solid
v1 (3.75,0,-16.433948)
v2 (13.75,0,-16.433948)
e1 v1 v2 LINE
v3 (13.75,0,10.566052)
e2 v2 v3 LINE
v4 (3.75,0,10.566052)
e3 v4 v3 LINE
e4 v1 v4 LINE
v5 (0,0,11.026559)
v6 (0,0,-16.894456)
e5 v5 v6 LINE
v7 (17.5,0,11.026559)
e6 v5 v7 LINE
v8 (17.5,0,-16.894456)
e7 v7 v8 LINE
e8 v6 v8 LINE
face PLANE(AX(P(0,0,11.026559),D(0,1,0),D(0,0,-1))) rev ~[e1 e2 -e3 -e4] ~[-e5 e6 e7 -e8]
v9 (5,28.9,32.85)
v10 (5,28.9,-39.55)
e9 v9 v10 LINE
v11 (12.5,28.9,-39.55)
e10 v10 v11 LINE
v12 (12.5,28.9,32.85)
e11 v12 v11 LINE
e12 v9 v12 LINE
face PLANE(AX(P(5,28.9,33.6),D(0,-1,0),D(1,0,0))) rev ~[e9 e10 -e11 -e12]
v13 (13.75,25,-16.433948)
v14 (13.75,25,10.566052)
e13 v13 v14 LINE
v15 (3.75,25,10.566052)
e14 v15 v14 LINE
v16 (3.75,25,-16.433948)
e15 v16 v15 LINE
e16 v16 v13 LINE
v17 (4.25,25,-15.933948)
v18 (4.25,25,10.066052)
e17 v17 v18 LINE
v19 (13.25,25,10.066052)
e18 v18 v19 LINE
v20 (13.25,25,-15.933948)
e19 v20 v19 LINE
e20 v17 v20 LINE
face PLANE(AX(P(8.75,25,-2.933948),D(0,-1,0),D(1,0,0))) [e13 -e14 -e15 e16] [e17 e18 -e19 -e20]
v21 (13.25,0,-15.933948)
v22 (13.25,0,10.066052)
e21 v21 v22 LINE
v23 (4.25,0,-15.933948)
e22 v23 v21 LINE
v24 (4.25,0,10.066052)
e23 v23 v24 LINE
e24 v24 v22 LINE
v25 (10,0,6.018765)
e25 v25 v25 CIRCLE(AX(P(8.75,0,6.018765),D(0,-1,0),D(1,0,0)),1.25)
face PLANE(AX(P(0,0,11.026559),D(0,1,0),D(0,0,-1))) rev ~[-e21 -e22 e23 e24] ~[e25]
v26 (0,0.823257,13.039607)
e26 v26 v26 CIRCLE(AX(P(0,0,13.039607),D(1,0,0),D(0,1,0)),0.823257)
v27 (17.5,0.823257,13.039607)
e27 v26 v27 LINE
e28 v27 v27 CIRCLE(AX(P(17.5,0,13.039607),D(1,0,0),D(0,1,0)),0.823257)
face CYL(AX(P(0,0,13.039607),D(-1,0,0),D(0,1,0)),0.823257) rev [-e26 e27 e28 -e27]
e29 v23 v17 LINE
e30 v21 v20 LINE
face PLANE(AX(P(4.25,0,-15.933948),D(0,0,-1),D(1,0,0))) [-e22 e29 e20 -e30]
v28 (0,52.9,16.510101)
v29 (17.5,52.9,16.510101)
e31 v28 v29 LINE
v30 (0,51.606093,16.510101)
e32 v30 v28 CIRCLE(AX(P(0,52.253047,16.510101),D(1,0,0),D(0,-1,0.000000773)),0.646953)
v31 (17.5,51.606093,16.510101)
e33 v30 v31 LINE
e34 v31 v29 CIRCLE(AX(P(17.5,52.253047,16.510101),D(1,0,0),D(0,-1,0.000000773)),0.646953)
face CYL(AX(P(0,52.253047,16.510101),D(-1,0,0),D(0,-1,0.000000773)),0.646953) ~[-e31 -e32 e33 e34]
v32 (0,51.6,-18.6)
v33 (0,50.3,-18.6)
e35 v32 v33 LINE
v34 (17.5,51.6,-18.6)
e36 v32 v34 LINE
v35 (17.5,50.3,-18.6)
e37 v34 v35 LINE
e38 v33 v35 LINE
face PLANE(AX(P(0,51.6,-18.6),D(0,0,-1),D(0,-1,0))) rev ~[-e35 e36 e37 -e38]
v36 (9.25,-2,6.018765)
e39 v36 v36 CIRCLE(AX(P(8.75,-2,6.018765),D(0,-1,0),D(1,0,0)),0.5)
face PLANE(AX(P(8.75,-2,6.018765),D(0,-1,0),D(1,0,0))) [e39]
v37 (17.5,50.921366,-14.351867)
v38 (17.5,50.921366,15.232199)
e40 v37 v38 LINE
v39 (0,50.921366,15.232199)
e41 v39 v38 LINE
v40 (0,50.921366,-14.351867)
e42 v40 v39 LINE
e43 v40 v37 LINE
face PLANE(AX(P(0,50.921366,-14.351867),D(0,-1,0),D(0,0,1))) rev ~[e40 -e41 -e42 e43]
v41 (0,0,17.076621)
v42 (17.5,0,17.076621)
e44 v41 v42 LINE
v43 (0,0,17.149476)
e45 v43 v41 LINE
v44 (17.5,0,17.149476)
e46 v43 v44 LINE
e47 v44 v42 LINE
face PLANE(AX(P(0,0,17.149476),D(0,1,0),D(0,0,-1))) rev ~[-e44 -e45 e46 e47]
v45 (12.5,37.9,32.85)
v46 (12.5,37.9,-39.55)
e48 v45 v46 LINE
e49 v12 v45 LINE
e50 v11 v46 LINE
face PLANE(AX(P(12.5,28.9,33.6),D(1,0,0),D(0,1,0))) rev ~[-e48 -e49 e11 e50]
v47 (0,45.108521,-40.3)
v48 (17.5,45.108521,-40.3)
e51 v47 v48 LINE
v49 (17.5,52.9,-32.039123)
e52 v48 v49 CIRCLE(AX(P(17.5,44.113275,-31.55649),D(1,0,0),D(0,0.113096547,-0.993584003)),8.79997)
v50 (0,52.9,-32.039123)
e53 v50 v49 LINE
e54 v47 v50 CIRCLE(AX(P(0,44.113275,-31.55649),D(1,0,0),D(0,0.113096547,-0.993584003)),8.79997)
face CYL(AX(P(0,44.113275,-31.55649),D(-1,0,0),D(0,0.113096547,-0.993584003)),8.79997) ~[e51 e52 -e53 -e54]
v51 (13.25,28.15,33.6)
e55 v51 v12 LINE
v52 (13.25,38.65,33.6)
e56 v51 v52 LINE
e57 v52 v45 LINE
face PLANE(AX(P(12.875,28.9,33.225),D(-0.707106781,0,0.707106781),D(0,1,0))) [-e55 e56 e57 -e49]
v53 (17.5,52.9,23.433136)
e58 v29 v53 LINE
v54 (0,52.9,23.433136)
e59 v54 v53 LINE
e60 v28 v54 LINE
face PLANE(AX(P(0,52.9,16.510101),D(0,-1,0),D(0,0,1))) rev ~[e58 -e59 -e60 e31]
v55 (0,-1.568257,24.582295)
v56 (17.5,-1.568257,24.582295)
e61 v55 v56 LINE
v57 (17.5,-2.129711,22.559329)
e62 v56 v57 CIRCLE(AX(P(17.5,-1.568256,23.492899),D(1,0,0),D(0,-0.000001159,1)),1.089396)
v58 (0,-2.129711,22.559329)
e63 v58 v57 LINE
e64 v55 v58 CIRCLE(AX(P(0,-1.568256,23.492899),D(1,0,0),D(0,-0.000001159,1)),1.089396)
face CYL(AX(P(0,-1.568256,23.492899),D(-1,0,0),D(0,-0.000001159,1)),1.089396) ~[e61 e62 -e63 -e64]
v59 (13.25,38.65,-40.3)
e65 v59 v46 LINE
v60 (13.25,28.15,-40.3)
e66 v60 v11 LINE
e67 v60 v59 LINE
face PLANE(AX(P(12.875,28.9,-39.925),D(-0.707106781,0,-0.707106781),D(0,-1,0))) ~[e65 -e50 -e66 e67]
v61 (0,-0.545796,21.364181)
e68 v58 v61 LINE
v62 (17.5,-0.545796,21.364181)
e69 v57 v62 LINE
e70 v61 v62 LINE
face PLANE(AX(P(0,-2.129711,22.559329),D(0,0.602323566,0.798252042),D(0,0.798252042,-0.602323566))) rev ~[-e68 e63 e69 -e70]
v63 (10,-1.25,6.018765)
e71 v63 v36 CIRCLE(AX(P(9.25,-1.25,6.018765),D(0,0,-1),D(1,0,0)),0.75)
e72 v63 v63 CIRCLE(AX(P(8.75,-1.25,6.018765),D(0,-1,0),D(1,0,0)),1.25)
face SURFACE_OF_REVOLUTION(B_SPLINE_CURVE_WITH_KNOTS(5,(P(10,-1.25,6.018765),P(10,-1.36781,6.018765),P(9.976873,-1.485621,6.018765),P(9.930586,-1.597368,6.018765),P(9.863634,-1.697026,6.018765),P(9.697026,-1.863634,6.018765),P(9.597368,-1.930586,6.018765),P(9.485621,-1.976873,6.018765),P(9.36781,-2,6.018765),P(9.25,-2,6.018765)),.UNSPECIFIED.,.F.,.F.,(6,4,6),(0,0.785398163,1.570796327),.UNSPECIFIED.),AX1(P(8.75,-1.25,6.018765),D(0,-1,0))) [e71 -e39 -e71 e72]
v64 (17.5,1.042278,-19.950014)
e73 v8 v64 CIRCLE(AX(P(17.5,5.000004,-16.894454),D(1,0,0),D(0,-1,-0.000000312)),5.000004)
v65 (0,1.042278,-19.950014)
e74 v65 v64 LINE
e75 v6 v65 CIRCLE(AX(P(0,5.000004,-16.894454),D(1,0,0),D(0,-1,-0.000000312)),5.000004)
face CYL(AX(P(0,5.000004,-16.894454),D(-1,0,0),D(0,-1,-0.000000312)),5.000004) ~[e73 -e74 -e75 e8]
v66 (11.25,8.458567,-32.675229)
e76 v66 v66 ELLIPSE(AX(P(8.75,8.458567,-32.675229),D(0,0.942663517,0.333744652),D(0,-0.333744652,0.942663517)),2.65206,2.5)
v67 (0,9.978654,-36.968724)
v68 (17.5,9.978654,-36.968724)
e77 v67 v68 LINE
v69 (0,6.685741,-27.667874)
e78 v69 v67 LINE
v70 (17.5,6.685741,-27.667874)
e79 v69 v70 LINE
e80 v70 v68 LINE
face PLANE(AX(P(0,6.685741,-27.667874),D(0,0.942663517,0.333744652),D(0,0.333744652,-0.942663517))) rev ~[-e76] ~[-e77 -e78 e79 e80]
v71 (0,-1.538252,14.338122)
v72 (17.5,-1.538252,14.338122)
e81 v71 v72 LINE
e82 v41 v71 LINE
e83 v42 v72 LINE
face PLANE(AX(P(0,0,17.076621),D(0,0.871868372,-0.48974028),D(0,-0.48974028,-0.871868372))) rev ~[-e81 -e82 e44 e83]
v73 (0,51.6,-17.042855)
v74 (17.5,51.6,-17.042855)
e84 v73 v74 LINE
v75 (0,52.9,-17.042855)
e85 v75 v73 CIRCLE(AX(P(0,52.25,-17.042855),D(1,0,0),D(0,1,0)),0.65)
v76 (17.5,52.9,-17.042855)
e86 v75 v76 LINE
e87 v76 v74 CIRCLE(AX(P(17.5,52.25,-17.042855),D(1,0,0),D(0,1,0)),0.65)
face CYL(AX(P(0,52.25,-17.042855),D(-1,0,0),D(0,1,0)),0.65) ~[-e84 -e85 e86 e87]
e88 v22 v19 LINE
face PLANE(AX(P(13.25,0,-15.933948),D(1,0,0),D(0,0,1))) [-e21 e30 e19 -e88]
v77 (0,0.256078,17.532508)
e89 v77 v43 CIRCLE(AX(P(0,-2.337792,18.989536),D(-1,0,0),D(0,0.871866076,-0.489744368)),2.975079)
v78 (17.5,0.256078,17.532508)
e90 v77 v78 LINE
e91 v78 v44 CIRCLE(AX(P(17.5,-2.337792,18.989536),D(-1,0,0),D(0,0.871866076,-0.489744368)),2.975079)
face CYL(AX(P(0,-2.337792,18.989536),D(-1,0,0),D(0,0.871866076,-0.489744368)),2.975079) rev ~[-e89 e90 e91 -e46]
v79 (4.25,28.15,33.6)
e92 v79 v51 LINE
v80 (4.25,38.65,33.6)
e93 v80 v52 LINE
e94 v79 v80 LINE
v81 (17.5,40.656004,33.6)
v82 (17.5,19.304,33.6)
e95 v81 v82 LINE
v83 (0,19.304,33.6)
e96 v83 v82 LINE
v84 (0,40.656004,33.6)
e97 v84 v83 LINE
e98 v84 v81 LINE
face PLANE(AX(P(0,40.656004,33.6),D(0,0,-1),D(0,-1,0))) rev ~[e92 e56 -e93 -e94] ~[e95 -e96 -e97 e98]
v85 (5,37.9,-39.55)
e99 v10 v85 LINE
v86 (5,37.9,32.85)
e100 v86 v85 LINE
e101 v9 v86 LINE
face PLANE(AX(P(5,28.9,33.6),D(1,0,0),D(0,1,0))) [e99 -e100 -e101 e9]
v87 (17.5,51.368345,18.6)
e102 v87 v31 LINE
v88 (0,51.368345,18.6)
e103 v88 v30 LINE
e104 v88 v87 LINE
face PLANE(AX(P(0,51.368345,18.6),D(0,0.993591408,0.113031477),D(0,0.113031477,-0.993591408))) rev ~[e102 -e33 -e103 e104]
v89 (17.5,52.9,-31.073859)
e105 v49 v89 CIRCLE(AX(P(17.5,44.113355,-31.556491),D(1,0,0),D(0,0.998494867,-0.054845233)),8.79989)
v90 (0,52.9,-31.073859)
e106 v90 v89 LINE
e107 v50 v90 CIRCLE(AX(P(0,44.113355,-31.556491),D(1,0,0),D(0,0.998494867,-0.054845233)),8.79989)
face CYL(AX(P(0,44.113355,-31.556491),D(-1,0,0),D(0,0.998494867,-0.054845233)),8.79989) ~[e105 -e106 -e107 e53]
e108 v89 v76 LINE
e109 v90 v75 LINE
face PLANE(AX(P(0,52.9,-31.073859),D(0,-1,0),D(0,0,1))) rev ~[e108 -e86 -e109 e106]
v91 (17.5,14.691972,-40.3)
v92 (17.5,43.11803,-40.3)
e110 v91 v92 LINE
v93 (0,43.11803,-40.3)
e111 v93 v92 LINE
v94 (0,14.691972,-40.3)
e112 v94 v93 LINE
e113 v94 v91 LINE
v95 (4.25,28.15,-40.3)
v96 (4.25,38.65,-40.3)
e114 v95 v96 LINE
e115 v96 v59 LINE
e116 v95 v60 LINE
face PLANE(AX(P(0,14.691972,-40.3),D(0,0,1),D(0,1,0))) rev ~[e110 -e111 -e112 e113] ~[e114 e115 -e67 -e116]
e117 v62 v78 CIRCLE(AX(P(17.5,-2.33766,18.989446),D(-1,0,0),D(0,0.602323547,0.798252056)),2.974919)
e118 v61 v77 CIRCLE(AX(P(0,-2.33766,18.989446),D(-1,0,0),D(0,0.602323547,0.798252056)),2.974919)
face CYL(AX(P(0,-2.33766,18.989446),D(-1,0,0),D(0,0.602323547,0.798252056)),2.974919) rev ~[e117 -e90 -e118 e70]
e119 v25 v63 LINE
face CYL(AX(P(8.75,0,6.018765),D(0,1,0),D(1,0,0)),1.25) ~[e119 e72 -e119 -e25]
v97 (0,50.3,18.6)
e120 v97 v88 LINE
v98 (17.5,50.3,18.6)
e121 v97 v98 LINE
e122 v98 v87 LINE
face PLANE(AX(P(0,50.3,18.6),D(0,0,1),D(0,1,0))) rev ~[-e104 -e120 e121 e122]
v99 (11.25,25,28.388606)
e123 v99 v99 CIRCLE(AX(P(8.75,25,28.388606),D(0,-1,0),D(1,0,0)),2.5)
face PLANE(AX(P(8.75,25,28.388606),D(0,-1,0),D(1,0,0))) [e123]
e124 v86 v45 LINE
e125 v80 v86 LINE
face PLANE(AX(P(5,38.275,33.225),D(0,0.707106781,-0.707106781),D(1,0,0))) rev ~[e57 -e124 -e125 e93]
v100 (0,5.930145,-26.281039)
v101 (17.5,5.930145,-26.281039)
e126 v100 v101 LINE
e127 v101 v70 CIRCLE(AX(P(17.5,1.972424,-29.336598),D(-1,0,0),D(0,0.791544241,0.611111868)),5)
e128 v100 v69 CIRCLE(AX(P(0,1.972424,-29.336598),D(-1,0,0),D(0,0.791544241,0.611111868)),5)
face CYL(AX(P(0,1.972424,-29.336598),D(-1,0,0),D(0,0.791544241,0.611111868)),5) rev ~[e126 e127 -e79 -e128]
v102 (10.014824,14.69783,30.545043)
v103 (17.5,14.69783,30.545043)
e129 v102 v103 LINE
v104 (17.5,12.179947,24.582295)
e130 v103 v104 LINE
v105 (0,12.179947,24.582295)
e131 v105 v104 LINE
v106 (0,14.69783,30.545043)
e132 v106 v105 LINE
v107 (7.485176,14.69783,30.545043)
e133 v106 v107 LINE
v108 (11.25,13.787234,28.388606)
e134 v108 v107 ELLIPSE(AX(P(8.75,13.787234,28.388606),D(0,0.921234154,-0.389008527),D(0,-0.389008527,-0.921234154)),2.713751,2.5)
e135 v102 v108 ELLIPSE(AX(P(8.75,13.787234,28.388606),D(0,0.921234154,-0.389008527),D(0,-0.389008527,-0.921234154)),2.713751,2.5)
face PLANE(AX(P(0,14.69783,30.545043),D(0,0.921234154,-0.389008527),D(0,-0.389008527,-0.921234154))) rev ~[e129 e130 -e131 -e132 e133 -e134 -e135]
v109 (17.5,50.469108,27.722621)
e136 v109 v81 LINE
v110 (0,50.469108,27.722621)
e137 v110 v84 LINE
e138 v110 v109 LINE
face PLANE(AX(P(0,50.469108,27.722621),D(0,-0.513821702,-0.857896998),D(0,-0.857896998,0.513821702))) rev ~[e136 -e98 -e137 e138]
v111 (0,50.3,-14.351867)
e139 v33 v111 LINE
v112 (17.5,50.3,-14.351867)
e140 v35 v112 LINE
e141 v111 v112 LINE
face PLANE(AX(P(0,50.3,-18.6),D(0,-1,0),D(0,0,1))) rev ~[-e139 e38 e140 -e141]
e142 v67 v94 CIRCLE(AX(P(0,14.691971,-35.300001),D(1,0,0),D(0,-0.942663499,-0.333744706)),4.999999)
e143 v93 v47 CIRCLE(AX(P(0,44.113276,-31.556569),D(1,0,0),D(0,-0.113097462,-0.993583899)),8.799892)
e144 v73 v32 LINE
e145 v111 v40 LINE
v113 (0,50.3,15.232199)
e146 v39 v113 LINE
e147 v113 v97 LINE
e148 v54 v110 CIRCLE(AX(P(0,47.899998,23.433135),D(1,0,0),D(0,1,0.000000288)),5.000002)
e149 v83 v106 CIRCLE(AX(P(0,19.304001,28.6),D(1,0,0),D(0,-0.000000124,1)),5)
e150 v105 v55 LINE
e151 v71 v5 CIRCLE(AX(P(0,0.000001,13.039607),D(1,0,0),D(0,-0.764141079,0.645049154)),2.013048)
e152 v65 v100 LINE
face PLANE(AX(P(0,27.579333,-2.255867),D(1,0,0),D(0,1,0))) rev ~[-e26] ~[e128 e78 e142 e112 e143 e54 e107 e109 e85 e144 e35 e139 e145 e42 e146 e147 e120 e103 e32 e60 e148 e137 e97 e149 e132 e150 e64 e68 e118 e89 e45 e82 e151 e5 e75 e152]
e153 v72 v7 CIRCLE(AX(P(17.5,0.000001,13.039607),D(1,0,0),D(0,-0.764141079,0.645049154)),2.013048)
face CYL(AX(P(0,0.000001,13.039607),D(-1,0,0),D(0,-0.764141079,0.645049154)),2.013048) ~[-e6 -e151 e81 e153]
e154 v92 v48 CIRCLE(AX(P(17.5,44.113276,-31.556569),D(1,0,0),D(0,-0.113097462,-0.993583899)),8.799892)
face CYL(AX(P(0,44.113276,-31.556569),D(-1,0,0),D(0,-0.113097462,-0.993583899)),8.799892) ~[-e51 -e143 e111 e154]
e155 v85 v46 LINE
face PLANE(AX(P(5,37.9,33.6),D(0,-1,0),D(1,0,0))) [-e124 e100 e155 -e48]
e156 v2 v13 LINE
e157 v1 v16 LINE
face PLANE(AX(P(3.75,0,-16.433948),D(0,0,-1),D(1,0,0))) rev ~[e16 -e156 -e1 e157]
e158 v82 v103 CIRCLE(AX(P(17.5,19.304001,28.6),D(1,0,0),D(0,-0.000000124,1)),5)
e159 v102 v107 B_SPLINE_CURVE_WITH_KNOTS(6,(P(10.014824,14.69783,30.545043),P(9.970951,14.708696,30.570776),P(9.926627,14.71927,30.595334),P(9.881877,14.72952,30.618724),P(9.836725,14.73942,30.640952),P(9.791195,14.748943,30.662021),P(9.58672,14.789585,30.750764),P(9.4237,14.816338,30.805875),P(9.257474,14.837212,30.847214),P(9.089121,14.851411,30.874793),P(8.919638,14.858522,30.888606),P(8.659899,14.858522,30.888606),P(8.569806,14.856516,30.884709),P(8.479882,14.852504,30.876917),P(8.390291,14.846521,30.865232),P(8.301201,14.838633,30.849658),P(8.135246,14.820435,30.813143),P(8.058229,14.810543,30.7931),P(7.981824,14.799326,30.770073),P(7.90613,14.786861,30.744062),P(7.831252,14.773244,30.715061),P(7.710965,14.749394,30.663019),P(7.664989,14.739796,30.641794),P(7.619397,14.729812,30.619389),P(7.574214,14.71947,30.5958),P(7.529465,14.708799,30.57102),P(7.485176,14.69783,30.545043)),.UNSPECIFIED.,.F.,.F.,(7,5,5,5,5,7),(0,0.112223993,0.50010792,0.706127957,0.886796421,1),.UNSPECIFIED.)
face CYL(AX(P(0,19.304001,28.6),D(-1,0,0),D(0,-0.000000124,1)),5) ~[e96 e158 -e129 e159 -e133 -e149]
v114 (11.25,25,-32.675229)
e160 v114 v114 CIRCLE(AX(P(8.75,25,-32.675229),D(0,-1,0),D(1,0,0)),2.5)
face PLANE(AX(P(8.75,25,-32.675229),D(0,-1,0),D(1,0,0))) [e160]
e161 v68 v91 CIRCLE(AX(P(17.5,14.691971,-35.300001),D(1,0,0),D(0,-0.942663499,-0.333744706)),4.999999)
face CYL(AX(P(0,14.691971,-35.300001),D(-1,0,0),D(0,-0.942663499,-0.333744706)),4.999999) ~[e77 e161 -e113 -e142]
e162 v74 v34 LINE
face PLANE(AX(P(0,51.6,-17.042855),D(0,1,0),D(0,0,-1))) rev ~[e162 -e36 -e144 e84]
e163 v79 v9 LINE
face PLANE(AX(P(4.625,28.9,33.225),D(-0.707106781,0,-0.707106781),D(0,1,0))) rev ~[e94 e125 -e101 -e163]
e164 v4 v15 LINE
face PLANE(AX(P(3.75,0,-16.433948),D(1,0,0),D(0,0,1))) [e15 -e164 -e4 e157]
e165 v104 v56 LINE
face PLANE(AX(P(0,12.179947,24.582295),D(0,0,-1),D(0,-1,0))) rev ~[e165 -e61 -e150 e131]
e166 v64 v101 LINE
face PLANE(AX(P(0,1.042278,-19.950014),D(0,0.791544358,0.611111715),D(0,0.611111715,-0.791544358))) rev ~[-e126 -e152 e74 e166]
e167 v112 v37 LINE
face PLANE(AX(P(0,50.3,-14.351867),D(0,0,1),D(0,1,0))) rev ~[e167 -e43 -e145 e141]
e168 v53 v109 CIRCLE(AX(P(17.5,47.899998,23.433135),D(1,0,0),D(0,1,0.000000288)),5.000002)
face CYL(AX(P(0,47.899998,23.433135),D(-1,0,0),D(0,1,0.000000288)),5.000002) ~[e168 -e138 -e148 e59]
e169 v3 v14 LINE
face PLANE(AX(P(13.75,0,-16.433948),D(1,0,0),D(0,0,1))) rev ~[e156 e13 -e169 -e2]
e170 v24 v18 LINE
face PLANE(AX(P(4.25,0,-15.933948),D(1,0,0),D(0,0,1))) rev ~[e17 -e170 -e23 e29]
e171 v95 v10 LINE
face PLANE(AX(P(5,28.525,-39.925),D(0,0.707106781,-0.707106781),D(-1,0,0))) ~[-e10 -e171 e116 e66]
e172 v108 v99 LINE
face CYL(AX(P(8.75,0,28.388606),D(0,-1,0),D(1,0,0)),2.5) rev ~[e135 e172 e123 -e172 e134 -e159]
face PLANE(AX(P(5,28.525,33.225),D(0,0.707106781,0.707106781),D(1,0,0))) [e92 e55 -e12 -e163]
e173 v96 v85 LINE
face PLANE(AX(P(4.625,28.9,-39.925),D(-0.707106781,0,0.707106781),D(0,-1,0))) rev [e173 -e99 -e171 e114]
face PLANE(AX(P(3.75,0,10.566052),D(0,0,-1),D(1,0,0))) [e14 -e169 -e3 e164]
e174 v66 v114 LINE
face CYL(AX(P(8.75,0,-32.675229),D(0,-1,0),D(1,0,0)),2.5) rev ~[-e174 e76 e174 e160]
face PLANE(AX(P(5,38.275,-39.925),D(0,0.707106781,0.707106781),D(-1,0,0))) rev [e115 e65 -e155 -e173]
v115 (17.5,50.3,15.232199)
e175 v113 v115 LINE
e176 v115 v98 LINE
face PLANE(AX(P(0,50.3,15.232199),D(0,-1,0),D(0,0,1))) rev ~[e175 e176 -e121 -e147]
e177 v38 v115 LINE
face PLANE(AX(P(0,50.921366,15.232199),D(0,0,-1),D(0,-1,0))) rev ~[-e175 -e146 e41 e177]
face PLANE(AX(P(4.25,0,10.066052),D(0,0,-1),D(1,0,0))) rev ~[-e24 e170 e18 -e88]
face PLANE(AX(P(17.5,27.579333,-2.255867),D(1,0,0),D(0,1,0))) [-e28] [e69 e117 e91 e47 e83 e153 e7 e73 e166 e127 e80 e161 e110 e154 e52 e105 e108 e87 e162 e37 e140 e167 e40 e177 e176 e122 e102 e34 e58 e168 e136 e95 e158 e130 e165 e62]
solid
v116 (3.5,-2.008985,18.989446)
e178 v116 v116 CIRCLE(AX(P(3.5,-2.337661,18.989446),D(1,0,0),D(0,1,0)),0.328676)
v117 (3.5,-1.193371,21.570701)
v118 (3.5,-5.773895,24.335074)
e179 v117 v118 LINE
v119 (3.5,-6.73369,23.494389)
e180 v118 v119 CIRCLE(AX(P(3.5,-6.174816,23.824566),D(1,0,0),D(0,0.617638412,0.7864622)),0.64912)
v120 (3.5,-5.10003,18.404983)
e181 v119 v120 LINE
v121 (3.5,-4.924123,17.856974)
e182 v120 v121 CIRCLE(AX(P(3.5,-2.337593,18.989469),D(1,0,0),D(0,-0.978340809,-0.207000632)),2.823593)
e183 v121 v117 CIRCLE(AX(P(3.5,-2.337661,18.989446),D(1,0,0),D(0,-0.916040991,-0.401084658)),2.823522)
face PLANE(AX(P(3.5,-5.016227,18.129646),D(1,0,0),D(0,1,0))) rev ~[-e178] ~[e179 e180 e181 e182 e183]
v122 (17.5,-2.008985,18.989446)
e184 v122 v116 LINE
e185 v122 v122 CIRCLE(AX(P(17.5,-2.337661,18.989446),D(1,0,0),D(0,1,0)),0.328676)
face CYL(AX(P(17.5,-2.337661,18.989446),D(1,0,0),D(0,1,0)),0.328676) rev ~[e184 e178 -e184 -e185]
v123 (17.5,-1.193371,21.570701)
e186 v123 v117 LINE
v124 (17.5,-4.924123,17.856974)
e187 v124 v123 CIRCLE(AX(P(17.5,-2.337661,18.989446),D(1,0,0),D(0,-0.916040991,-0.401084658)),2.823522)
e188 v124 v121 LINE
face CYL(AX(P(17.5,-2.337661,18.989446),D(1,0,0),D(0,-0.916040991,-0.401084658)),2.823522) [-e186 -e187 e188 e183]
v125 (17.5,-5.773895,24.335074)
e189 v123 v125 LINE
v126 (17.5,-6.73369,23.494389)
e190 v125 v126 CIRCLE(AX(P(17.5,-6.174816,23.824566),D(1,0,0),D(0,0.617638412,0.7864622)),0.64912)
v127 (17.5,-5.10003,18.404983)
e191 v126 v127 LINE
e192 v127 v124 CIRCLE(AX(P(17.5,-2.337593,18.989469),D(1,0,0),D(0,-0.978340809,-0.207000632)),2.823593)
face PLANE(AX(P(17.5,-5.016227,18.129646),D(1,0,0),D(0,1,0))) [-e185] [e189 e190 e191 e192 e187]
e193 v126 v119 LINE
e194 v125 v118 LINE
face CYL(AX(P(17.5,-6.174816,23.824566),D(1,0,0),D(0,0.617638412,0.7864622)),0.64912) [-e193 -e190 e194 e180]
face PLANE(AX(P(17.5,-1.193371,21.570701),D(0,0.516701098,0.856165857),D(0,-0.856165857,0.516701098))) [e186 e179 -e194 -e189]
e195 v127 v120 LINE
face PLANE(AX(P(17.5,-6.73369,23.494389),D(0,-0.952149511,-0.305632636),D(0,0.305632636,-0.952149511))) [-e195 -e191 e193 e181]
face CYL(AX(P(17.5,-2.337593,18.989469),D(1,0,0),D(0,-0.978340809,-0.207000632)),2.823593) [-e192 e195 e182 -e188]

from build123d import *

# Parameters (mm, degrees)
F0_R      = 0.823257
F1_DEPTH  = 17.5
F2_R      = 0.328676
F3_DEPTH  = 14
F4_W      = 7.5
F4_H      = 9
F5_DEPTH  = 73.957461
F6_R      = 2.5
F7_DEPTH  = 25
F8_W      = 10
F8_H      = 27
F8_W_2    = 9
F8_H_2    = 26
F9_DEPTH  = 25
F10_R     = 1.25
F11_DEPTH = 2
F12_R     = 0.75
F13_SIZE  = 0.75


with BuildPart() as f1:
    # F0 (on Right) → F1 (new body)
    with BuildSketch(Plane.YZ):
        with BuildLine():
            Line((0, 11.026559), (0, 0))
            Line((0, 0), (0, -16.894456))
            ThreePointArc((0, -16.894456), (0.267738, -18.508672), (1.042278, -19.950014))
            Line((1.042278, -19.950014), (5.930145, -26.281039))
            ThreePointArc((5.930145, -26.281039), (6.363045, -26.944435), (6.685741, -27.667874))
            Line((6.685741, -27.667874), (9.978654, -36.968724))
            ThreePointArc((9.978654, -36.968724), (11.806111, -39.383113), (14.691972, -40.3))
            Line((14.691972, -40.3), (43.11803, -40.3))
            Line((43.11803, -40.3), (45.108521, -40.3))
            ThreePointArc((45.108521, -40.3), (50.515014, -37.594471), (52.9, -32.039123))
            Line((52.9, -32.039123), (52.9, -31.073859))
            Line((52.9, -31.073859), (52.9, -18.6))
            Line((52.9, -18.6), (51.6, -18.6))
            Line((51.6, -18.6), (50.3, -18.6))
            Line((50.3, -18.6), (50.3, -14.351867))
            Line((50.3, -14.351867), (50.921366, -14.351867))
            Line((50.921366, -14.351867), (50.921366, 15.232199))
            Line((50.921366, 15.232199), (50.3, 15.232199))
            Line((50.3, 15.232199), (50.3, 18.6))
            Line((50.3, 18.6), (51.368345, 18.6))
            Line((51.368345, 18.6), (51.606093, 16.510101))
            ThreePointArc((51.606093, 16.510101), (52.253046, 15.863147), (52.9, 16.510101))
            Line((52.9, 16.510101), (52.9, 23.433136))
            ThreePointArc((52.9, 23.433136), (52.250031, 25.898339), (50.469108, 27.722621))
            Line((50.469108, 27.722621), (40.656004, 33.6))
            Line((40.656004, 33.6), (19.304, 33.6))
            ThreePointArc((19.304, 33.6), (16.540417, 32.766846), (14.69783, 30.545043))
            Line((14.69783, 30.545043), (12.179947, 24.582295))
            Line((12.179947, 24.582295), (0, 24.582295))
            Line((0, 24.582295), (-1.568257, 24.582295))
            ThreePointArc((-1.568257, 24.582295), (-2.617973, 23.784237), (-2.129711, 22.559329))
            Line((-2.129711, 22.559329), (-0.545796, 21.364181))
            ThreePointArc((-0.545796, 21.364181), (0.574179, 19.598821), (0.256078, 17.532508))
            Line((0.256078, 17.532508), (0, 17.076621))
            Line((0, 17.076621), (-1.538252, 14.338122))
            ThreePointArc((-1.538252, 14.338122), (-1.825696, 12.191554), (0, 11.026559))
        make_face()
        with Locations((0, 13.039607)):
            Circle(F0_R, mode=Mode.SUBTRACT)
        with BuildLine():
            Line((0, 17.149476), (0, 17.076621))
            Line((0, 17.076621), (0.256078, 17.532508))
            ThreePointArc((0.256078, 17.532508), (0.135465, 17.336027), (0, 17.149476))
        make_face()
        with BuildLine():
            Line((45.108521, -40.3), (43.11803, -40.3))
            ThreePointArc((43.11803, -40.3), (44.113275, -40.356461), (45.108521, -40.3))
        make_face()
        with BuildLine():
            Line((52.9, -31.073859), (52.9, -32.039123))
            ThreePointArc((52.9, -32.039123), (52.913245, -31.556491), (52.9, -31.073859))
        make_face()
        with BuildLine():
            Line((51.6, -18.6), (52.9, -18.6))
            Line((52.9, -18.6), (52.9, -17.042855))
            ThreePointArc((52.9, -17.042855), (52.25, -16.392855), (51.6, -17.042855))
            Line((51.6, -17.042855), (51.6, -18.6))
        make_face()
    extrude(amount=F1_DEPTH)

    # F4 (on face) → F5 (cut, through all)
    with BuildSketch(Plane.XY.offset(33.6)):
        with Locations((8.75, 33.4)):
            Rectangle(F4_W, F4_H)
    extrude(amount=-F5_DEPTH, mode=Mode.SUBTRACT)

    # F6 (on Front) → F7 (cut)
    with BuildSketch(Plane.XZ):
        with Locations((8.75, -32.675229)):
            Circle(F6_R)
        with Locations((8.75, 28.388606)):
            Circle(F6_R)
    extrude(amount=-F7_DEPTH, mode=Mode.SUBTRACT)

    # F8 (on face) → F9 (cut)
    with BuildSketch(Plane.XZ):
        with Locations((8.75, -2.933948)):
            Rectangle(F8_W, F8_H)
        with Locations((8.75, -2.933948)):
            Rectangle(F8_W_2, F8_H_2, mode=Mode.SUBTRACT)
    extrude(amount=-F9_DEPTH, mode=Mode.SUBTRACT)

    # F10 (on face) → F11 (join)
    with BuildSketch(Plane.XZ):
        with Locations((8.75, 6.018765)):
            Circle(F10_R)
    extrude(amount=F11_DEPTH)

    # F12
    f12_edges = [f1.edges().sort_by_distance(p)[0] for p in [
        (7.5, -2, 6.018765),
    ]]
    fillet(f12_edges, radius=F12_R)

    # F13
    f13_edges = [f1.edges().sort_by_distance(p)[0] for p in [
        (8.75, 37.9, -40.3),
        (12.5, 33.4, -40.3),
        (8.75, 28.9, -40.3),
        (5, 33.4, -40.3),
        (5, 33.4, 33.6),
        (8.75, 28.9, 33.6),
        (12.5, 33.4, 33.6),
        (8.75, 37.9, 33.6),
    ]]
    chamfer(f13_edges, length=F13_SIZE)


with BuildPart() as f3:
    # F2 (on face) → F3 (new body)
    with BuildSketch(Plane.YZ.offset(17.5)):
        with BuildLine():
            Line((-4.924123, 17.856974), (-5.10003, 18.404983))
            ThreePointArc((-5.10003, 18.404983), (-5.026076, 18.126485), (-4.924123, 17.856974))
        make_face()
        with BuildLine():
            Line((-6.73369, 23.494389), (-5.10003, 18.404983))
            Line((-5.10003, 18.404983), (-4.924123, 17.856974))
            ThreePointArc((-4.924123, 17.856974), (-0.3457, 16.988353), (-1.193371, 21.570701))
            Line((-1.193371, 21.570701), (-5.773895, 24.335074))
            ThreePointArc((-5.773895, 24.335074), (-6.602514, 24.31286), (-6.73369, 23.494389))
        make_face()
        with Locations((-2.337661, 18.989446)):
            Circle(F2_R, mode=Mode.SUBTRACT)
    extrude(amount=-F3_DEPTH)


solid = Compound([f1.part, f3.part])
